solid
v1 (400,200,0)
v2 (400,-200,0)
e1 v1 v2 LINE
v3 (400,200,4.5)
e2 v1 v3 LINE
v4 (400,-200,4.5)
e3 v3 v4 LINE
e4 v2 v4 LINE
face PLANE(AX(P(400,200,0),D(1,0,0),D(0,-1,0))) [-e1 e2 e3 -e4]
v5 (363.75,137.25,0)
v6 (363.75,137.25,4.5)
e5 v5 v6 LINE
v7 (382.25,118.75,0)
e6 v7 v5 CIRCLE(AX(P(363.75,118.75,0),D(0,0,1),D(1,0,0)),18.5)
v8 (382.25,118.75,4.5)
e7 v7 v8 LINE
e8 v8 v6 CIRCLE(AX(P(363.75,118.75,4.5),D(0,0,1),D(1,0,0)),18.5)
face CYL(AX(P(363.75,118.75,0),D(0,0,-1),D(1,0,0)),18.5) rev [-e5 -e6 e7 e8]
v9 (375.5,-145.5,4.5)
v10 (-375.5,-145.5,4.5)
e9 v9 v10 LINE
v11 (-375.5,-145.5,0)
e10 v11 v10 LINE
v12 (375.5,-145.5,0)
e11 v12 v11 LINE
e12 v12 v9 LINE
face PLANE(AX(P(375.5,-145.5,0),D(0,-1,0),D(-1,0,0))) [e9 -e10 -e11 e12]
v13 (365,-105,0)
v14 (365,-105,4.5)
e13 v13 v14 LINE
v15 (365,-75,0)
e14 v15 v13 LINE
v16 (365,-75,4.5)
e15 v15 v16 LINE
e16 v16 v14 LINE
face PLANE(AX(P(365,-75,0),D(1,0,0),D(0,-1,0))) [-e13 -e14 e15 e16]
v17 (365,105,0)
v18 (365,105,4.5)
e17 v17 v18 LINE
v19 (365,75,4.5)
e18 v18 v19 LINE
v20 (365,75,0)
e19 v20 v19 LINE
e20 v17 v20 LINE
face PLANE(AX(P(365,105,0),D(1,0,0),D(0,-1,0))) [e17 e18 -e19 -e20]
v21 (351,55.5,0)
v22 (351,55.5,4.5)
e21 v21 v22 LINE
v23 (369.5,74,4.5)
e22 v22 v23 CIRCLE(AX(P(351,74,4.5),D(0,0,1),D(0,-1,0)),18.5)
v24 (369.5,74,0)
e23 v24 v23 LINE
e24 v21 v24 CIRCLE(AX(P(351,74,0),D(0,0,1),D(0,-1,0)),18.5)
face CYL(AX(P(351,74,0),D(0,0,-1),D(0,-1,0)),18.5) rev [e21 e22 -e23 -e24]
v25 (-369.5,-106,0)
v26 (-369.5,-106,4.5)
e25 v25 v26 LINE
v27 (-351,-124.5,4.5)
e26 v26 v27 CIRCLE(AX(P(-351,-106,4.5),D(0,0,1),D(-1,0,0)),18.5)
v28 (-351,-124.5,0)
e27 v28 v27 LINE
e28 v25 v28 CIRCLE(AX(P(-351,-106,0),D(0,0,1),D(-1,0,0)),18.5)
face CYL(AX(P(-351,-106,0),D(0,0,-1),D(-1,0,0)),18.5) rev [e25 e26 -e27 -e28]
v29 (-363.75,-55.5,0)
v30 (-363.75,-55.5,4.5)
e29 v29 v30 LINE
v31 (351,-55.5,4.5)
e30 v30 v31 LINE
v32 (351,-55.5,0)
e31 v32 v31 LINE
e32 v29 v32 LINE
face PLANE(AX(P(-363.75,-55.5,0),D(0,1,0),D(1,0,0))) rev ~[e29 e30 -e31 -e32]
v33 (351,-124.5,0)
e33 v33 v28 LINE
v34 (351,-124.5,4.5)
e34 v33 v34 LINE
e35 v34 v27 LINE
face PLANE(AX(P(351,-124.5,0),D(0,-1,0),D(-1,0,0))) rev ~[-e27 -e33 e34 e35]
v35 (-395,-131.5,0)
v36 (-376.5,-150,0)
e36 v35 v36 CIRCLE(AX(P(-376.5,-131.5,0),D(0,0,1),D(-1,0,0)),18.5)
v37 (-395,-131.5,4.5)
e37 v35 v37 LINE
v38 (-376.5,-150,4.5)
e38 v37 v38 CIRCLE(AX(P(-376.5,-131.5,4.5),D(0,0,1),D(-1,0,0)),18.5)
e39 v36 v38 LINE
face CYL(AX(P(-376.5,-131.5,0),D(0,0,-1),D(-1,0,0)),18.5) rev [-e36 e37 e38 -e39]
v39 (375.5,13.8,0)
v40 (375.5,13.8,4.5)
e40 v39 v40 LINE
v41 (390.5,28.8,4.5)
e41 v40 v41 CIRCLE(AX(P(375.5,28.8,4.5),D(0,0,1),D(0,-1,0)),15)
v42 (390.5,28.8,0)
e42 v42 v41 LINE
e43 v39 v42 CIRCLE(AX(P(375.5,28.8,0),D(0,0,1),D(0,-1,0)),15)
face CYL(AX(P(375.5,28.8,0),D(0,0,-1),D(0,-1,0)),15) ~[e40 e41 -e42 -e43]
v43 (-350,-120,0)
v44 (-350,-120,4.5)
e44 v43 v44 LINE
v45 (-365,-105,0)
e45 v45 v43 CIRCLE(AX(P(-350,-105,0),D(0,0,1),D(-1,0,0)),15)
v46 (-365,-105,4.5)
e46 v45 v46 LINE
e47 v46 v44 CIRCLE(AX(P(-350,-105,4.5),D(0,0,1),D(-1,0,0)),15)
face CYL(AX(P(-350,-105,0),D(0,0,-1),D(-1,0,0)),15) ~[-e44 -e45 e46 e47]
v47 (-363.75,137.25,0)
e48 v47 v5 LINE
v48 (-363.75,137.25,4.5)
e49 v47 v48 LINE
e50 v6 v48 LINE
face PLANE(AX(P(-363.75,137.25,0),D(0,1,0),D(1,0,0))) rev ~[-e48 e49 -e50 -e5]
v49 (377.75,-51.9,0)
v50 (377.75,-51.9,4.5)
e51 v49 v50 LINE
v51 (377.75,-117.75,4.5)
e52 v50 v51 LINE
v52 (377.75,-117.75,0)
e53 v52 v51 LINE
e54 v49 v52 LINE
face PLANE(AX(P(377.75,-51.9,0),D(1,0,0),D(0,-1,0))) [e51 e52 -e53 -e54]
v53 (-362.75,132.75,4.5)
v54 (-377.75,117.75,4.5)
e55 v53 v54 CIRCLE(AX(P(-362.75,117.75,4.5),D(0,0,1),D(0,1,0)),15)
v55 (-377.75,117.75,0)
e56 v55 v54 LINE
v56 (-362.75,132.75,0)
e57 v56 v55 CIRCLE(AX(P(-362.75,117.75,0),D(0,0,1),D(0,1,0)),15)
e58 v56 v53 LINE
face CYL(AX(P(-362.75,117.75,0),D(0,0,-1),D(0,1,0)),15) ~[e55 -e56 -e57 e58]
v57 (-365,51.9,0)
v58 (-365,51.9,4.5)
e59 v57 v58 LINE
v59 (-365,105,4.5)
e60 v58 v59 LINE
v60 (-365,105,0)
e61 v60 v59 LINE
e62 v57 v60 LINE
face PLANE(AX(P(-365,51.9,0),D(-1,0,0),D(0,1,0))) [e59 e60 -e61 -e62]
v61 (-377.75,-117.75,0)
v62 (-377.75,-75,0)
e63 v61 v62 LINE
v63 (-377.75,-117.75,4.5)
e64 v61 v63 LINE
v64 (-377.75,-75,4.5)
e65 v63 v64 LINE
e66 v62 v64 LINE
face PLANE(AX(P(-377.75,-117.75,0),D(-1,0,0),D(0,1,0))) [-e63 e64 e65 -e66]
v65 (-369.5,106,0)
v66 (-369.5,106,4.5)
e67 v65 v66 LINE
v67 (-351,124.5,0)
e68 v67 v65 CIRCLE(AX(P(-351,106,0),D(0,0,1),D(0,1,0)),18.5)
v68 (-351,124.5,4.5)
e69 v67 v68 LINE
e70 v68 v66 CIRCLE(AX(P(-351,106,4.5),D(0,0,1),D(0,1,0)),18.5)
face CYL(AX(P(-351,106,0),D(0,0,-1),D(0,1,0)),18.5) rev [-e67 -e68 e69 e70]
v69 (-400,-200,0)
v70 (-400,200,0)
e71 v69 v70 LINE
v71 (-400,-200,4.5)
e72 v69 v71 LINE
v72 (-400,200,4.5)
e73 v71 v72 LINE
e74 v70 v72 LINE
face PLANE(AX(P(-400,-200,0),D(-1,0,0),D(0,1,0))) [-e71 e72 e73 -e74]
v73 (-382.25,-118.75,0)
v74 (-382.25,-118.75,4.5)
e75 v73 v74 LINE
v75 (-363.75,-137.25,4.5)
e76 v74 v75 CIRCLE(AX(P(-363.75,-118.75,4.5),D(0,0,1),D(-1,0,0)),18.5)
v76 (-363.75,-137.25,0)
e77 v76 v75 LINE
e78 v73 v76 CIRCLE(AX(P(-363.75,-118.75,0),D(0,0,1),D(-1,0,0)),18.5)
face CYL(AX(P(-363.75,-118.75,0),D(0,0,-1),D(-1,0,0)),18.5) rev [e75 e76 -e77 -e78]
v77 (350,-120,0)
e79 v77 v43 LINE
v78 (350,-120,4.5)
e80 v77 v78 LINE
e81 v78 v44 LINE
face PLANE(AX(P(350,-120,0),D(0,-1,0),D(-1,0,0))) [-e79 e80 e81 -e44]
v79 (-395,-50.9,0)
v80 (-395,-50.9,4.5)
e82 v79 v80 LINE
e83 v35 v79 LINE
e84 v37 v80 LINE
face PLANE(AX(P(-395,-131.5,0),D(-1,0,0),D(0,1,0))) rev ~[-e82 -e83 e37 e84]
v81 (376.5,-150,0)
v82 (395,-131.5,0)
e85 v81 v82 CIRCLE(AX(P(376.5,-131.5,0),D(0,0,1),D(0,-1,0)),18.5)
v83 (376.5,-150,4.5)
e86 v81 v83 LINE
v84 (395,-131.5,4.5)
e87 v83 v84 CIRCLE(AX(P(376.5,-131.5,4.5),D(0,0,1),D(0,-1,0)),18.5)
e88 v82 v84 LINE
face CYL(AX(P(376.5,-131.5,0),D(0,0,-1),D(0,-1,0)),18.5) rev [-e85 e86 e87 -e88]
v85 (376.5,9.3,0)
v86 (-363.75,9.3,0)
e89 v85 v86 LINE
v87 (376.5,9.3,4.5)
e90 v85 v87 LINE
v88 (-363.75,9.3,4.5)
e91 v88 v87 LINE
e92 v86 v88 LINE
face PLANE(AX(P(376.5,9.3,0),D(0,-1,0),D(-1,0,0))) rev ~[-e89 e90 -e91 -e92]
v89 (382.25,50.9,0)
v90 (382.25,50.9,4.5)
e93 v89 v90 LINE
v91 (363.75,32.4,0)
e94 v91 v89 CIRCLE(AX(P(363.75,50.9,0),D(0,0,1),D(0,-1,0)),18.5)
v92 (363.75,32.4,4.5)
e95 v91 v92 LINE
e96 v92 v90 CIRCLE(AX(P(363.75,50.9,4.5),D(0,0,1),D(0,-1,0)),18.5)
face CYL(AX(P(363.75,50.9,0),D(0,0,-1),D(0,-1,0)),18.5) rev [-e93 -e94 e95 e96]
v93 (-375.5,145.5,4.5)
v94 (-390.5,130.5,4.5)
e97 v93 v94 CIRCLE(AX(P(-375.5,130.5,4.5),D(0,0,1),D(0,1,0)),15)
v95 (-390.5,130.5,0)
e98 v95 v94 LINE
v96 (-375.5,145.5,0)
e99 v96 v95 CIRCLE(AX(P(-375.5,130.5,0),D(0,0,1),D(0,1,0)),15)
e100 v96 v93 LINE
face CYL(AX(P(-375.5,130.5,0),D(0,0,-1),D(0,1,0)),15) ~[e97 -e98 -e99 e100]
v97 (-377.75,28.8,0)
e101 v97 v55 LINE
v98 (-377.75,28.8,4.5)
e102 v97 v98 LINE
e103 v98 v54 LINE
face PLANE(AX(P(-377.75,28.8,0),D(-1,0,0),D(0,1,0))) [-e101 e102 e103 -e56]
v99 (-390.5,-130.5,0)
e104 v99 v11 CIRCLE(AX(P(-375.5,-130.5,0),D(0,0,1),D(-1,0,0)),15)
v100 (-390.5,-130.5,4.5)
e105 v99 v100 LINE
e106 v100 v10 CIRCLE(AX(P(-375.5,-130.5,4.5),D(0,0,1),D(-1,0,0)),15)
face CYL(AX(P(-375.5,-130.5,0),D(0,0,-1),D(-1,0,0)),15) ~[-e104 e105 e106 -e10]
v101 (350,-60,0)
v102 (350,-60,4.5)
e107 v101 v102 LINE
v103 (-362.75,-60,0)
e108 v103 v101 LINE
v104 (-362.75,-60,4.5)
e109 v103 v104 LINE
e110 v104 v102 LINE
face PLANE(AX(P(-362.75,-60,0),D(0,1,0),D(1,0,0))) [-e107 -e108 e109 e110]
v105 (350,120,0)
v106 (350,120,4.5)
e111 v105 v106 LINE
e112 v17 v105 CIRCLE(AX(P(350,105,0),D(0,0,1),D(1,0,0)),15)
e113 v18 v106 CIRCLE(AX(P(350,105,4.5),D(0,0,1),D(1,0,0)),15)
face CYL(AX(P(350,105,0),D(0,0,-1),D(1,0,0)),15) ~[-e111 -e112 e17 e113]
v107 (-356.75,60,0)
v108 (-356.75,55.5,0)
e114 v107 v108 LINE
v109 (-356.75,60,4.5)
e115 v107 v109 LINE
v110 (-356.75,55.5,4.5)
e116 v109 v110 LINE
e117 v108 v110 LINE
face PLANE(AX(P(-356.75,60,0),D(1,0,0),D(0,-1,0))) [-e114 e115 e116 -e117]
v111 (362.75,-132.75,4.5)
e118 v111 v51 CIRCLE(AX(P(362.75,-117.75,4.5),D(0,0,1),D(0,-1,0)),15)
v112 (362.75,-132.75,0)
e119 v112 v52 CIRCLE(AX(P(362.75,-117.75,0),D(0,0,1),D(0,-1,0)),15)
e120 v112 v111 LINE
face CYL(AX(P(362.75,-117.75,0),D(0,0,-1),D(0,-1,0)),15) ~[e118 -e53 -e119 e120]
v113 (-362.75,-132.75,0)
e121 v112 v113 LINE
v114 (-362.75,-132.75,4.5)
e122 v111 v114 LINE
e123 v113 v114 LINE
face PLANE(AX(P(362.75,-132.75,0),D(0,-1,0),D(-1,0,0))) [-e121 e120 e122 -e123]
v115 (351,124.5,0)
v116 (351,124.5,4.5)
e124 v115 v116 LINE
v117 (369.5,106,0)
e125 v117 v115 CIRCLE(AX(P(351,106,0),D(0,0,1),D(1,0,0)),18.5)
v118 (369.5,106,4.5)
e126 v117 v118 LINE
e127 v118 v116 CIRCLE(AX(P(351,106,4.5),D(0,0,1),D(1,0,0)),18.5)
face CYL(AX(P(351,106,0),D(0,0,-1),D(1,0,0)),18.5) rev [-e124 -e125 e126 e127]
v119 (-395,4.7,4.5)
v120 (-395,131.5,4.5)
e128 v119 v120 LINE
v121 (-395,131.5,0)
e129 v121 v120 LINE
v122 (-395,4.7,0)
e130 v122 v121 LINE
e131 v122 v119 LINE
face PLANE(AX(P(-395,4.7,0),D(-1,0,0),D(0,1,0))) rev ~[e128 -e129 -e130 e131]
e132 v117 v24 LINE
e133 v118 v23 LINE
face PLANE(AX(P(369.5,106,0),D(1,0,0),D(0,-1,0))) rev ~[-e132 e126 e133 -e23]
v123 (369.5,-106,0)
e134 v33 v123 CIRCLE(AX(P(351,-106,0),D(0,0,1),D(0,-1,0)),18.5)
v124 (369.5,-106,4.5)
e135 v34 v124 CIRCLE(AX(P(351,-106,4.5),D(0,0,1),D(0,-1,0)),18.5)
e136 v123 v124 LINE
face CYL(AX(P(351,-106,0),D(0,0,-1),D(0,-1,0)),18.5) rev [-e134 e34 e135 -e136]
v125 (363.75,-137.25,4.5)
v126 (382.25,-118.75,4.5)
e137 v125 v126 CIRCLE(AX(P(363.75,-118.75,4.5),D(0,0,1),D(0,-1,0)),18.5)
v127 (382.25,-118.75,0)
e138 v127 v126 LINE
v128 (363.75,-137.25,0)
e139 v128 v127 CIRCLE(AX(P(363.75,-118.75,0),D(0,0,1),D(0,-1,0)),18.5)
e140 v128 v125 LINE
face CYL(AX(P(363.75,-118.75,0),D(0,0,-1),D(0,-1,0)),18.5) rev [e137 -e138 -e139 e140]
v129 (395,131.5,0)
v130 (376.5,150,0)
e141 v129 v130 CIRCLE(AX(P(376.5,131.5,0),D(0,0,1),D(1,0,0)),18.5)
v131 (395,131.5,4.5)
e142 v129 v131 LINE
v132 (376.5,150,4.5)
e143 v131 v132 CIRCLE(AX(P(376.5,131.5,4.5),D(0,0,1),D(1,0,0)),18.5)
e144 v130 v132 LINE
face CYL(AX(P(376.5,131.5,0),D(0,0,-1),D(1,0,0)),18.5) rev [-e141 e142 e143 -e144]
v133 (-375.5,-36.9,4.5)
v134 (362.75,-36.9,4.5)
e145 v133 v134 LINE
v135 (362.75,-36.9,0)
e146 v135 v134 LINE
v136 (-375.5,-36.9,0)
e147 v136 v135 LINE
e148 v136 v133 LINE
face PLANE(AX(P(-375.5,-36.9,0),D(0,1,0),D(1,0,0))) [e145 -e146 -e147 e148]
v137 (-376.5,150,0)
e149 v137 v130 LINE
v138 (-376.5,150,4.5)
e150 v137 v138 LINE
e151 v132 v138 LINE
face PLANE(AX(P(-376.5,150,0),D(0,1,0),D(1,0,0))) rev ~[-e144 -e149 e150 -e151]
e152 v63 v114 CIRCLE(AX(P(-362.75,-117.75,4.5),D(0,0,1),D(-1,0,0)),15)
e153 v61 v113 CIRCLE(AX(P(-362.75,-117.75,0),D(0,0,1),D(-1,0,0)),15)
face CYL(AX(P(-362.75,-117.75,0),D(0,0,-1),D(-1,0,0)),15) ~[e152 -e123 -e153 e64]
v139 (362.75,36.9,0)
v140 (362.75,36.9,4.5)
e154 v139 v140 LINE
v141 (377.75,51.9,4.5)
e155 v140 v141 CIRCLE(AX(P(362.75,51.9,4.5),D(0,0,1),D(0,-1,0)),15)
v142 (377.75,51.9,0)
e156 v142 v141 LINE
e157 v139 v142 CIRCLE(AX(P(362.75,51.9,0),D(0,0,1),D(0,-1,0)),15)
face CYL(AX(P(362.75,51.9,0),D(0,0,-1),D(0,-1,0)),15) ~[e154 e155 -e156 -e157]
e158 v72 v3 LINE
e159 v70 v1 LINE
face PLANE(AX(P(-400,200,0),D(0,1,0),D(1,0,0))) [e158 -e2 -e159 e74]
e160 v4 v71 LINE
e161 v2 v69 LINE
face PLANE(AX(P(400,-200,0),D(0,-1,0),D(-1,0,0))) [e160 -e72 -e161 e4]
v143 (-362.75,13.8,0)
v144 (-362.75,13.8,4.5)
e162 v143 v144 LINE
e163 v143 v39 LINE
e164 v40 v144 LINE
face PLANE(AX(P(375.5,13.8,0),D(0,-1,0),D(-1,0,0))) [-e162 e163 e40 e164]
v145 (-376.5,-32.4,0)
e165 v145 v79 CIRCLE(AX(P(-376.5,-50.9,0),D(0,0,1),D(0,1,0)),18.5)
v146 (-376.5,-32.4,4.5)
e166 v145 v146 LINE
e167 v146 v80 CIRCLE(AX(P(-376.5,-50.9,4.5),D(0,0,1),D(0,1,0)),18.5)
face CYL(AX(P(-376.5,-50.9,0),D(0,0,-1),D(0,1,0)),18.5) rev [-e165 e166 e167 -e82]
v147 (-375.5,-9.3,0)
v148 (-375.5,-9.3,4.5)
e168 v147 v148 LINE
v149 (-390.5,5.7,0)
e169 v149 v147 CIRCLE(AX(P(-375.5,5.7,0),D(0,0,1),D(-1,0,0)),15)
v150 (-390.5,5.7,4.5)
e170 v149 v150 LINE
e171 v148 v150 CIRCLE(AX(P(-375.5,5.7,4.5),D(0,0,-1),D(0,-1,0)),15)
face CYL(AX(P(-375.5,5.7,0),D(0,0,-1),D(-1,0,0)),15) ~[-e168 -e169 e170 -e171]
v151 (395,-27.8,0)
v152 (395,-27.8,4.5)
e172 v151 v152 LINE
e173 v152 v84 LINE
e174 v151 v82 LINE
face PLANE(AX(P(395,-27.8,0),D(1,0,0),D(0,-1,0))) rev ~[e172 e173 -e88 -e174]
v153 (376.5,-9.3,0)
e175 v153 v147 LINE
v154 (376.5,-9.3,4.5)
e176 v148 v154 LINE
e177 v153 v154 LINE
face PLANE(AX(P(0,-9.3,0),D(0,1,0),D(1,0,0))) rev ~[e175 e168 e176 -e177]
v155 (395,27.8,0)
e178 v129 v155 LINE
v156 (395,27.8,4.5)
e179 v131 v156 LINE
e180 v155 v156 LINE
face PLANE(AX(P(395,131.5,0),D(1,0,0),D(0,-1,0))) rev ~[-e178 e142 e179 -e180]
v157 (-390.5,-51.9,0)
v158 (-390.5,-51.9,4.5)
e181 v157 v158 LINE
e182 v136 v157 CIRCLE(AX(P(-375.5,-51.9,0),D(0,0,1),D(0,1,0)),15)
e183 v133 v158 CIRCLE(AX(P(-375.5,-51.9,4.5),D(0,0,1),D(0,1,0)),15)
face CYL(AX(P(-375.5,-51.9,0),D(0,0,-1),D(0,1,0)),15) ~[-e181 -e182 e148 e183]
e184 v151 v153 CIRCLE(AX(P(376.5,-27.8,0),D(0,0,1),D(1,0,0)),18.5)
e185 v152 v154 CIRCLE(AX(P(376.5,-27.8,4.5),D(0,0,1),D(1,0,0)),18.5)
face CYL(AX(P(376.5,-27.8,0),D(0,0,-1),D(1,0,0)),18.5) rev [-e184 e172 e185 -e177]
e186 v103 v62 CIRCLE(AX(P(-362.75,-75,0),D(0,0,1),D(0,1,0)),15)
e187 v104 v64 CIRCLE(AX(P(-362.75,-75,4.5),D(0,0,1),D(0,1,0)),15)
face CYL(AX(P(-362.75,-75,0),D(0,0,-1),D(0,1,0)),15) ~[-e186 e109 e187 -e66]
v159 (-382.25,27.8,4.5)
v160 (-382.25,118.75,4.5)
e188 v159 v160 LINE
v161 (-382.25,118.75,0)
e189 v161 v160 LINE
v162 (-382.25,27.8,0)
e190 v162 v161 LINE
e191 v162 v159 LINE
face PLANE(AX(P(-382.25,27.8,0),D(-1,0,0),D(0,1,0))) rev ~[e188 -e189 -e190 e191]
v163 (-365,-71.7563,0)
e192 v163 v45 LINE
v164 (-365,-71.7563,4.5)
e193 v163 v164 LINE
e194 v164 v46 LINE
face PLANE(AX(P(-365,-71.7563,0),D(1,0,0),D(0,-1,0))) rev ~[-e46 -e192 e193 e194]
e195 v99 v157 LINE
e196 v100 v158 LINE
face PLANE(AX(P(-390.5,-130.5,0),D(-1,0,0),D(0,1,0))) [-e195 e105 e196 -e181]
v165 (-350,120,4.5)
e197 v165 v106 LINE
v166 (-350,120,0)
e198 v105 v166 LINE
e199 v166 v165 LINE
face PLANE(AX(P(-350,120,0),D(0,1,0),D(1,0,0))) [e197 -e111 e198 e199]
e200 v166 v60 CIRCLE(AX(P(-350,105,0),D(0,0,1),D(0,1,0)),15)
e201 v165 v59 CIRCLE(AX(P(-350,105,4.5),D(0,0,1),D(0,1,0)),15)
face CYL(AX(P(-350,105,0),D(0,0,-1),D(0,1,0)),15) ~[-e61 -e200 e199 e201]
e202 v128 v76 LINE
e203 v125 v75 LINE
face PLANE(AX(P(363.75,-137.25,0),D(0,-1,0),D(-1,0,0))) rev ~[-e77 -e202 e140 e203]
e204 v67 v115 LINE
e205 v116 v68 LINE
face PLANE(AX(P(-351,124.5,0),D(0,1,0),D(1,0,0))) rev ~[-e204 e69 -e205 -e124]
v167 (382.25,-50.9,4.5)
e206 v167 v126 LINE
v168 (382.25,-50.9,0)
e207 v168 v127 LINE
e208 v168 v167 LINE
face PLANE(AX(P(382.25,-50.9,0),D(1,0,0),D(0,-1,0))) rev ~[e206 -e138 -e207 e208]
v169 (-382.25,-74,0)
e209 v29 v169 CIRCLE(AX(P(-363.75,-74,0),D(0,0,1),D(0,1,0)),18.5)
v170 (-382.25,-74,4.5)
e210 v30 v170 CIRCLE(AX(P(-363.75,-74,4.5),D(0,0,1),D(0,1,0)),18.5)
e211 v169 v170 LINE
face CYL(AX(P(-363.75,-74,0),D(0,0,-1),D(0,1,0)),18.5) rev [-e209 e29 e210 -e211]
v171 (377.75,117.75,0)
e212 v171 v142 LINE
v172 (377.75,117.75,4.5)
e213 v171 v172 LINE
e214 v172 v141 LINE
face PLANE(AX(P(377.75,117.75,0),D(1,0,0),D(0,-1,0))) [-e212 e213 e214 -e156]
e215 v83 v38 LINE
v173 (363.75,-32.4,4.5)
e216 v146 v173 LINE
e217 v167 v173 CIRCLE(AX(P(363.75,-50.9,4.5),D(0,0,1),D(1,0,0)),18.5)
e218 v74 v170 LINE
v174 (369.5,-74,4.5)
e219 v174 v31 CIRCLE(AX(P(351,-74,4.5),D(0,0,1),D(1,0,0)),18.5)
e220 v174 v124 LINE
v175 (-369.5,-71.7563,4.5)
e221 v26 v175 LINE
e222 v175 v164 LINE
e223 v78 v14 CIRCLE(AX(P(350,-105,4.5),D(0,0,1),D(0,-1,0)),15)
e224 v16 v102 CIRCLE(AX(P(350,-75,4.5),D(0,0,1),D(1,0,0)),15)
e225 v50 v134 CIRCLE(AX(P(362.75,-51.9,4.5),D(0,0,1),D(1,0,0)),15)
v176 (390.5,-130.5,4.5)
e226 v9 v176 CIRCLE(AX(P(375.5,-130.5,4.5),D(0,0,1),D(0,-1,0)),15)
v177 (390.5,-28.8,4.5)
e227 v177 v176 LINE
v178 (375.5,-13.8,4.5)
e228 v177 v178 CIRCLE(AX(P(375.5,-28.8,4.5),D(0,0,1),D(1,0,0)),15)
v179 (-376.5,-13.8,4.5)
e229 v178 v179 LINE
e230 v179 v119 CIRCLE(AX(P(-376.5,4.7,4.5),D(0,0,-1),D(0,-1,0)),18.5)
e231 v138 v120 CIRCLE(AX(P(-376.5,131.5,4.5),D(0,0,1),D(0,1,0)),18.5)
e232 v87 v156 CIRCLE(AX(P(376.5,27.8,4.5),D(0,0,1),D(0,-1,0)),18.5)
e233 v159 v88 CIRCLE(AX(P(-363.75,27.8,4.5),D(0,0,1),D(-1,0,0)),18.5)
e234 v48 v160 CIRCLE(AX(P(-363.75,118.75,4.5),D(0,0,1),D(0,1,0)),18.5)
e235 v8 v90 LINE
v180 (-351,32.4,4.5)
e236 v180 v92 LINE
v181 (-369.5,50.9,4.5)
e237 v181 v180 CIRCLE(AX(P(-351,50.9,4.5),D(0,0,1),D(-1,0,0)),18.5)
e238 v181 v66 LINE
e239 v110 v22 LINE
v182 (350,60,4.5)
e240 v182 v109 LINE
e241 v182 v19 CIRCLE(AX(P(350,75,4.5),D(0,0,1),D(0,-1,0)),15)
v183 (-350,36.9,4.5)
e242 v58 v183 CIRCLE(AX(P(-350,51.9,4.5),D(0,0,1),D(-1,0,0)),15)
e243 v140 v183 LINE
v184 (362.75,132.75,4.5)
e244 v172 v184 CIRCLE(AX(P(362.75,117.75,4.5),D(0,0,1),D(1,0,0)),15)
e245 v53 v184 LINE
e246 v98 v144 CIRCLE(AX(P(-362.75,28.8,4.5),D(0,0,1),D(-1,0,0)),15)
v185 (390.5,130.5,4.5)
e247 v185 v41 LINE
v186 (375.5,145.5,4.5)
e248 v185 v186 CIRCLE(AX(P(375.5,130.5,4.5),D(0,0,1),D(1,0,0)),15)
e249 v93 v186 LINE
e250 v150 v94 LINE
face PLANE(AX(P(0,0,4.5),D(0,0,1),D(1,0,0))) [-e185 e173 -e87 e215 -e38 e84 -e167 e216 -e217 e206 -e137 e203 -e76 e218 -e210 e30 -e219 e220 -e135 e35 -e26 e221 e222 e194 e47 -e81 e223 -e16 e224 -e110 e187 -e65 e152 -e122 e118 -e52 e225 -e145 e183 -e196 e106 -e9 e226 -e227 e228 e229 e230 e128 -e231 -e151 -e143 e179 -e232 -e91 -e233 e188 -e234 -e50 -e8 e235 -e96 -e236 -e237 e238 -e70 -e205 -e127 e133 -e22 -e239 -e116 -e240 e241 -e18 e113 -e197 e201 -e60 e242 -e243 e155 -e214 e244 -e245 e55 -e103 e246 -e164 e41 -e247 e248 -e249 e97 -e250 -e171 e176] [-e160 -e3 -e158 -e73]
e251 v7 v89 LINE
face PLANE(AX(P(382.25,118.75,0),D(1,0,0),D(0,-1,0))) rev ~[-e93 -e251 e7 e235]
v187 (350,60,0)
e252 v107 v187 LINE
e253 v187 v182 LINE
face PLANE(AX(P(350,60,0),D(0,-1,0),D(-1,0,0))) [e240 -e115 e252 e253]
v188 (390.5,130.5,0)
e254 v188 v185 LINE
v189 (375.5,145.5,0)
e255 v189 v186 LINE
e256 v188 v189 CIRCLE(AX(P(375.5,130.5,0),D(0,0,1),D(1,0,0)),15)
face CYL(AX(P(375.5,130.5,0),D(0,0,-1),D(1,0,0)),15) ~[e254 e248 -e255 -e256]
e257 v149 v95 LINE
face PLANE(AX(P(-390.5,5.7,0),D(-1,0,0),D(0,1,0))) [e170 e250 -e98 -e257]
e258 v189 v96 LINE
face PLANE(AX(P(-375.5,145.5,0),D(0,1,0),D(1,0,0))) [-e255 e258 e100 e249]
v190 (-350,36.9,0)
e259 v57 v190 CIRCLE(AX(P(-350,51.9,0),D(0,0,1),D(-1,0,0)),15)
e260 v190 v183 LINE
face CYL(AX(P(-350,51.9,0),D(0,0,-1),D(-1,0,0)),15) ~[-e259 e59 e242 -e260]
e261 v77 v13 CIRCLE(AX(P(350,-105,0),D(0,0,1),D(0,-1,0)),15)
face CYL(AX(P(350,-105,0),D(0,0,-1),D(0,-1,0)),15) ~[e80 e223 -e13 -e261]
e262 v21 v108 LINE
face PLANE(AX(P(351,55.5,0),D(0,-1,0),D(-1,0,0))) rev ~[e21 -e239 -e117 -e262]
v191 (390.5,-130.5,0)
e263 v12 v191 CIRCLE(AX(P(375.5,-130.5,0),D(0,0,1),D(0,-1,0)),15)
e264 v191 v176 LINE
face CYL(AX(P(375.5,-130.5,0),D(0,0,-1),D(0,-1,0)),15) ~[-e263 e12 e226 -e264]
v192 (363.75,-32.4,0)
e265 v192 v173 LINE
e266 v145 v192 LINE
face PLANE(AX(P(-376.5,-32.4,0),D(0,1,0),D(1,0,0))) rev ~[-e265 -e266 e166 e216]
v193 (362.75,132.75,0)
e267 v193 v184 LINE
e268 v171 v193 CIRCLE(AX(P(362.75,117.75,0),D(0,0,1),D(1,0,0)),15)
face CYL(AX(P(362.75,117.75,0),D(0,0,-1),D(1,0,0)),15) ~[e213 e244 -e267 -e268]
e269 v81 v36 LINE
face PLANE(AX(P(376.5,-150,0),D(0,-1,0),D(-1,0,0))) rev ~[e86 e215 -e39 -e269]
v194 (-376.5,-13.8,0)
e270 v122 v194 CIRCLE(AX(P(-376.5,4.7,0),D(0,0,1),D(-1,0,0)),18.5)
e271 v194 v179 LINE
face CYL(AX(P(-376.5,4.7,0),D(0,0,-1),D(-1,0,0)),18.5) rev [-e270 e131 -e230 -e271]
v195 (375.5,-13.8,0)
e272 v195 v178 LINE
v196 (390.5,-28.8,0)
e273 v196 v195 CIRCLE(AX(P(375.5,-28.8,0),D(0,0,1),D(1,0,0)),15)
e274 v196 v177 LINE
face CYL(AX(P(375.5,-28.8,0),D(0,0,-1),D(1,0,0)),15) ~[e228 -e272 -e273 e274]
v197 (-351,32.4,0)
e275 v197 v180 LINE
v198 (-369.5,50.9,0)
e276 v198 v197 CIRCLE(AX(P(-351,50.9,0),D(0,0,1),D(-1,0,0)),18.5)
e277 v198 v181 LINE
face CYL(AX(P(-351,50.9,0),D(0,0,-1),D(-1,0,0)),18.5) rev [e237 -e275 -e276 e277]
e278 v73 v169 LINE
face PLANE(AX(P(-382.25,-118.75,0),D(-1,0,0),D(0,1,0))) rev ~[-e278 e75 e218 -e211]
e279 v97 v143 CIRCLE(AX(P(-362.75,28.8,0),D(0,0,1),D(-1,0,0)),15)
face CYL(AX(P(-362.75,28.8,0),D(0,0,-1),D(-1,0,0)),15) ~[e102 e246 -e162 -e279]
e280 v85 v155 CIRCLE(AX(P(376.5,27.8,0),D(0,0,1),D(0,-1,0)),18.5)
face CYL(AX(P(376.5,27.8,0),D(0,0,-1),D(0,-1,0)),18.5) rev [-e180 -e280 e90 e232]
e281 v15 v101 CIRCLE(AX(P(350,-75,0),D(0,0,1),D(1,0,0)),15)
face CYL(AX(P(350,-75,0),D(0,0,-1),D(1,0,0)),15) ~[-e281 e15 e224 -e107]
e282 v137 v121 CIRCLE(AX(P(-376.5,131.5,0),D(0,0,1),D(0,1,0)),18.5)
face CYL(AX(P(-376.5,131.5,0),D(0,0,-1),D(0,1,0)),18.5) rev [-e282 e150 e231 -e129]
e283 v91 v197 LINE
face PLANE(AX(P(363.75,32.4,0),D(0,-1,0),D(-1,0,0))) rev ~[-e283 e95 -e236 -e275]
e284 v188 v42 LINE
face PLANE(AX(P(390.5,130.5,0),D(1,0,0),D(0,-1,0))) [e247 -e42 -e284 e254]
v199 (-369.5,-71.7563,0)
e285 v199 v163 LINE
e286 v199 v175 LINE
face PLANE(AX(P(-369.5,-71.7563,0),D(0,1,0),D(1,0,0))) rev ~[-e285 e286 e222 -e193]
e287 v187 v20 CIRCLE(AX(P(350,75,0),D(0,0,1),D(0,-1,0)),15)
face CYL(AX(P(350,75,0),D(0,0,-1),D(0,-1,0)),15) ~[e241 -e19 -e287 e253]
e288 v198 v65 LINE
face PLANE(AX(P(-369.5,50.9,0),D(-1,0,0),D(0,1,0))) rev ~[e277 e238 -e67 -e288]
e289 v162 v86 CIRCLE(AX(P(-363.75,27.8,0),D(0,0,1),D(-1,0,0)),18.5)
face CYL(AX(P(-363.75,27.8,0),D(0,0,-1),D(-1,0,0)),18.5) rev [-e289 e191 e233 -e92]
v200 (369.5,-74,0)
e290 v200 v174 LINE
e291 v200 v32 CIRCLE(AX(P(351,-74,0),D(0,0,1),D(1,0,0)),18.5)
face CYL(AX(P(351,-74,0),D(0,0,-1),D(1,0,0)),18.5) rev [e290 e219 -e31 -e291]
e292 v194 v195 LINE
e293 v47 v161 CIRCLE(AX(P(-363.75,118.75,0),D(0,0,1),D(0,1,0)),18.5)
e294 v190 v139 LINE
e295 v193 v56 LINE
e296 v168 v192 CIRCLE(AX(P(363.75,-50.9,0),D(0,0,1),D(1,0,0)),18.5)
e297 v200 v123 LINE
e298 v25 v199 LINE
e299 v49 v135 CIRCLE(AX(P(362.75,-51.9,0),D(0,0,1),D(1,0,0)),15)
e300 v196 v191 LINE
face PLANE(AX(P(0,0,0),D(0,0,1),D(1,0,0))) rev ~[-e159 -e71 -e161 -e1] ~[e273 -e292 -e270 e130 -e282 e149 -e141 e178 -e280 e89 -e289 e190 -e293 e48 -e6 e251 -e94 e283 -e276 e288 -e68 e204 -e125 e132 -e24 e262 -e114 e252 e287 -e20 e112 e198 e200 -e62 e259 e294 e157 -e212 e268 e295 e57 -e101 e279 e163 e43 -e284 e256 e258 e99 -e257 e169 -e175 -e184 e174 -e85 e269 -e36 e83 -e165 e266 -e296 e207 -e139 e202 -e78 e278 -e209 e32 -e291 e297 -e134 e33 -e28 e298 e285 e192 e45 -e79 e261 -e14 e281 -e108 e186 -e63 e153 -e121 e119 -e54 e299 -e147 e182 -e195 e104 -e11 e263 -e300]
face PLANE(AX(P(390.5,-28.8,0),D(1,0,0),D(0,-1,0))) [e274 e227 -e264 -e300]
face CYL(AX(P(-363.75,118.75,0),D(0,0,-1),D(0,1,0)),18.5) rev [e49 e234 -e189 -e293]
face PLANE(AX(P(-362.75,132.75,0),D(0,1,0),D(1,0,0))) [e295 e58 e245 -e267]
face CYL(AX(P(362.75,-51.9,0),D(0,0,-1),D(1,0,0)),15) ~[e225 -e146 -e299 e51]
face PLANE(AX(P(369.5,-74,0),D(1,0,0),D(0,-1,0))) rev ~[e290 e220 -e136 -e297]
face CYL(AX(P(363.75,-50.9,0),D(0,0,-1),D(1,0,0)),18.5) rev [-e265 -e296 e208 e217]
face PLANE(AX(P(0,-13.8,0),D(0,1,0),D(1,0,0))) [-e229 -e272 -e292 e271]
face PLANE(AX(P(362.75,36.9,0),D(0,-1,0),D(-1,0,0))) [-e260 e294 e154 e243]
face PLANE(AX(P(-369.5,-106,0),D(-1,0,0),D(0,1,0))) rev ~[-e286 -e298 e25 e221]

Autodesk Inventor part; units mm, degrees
ref_plane "YZ Plane" through (0, 0, 0) normal (1, 0, 0) x (0, 1, 0)
ref_plane "XZ Plane" through (0, 0, 0) normal (0, 1, 0) x (-1, 0, 0)
sketch "layer_layout_sketch" plane through (0, 0, 0) normal (0, 0, 1) x (1, 0, 0)
  line L0 (-400, 200) -> (400, 200)
  line L1 (400, 200) -> (400, -200)
  line L2 (400, -200) -> (-400, -200)
  line L3 (-400, -200) -> (-400, 200)
  line L4 (0, 200) -> (0, -200) construction
  point P0 (0, 0)
  point P1 (0, 0)
  dimension "d116" = 400
  dimension "d117" = 800
sketch "coil_layer_sketch_lower" plane through (0, 0, 0) normal (0, 0, 1) x (1, 0, 0)
  line L0 (0, -9.3) -> (376.5, -9.3)
  line L1 (395, -27.8) -> (395, -131.5)
  line L2 (376.5, -150) -> (-376.5, -150)
  line L3 (-395, -131.5) -> (-395, -50.9)
  line L4 (0, -9.3) -> (0, -13.8)
  line L5 (0, -13.8) -> (375.5, -13.8)
  line L6 (390.5, -28.8) -> (390.5, -130.5)
  line L7 (375.5, -145.5) -> (-375.5, -145.5)
  line L8 (-376.5, -32.4) -> (363.75, -32.4)
  line L9 (382.25, -50.9) -> (382.25, -118.75)
  line L10 (363.75, -137.25) -> (-363.75, -137.25)
  line L11 (-390.5, -130.5) -> (-390.5, -51.9)
  line L12 (-375.5, -36.9) -> (362.75, -36.9)
  line L13 (377.75, -51.9) -> (377.75, -117.75)
  line L14 (362.75, -132.75) -> (-362.75, -132.75)
  line L15 (-377.75, -117.75) -> (-377.75, -75)
  line L16 (-382.25, -118.75) -> (-382.25, -74)
  line L17 (-363.75, -55.5) -> (351, -55.5)
  line L18 (369.5, -74) -> (369.5, -106)
  line L19 (-362.75, -60) -> (350, -60)
  line L20 (365, -75) -> (365, -105)
  line L21 (-558.3641, 0) -> (558.3641, 0) projected
  line L22 (350, -120) -> (-350, -120)
  line L23 (351, -124.5) -> (-351, -124.5)
  line L24 (-369.5, -106) -> (-369.5, -71.7563)
  line L25 (-369.5, -71.7563) -> (-365, -71.7563)
  line L26 (-365, -71.7563) -> (-365, -105)
  arc A0 (395, -27.8) -> (376.5, -9.3) centre (376.5, -27.8) ccw
  arc A1 (382.25, -50.9) -> (363.75, -32.4) centre (363.75, -50.9) ccw
  arc A2 (369.5, -74) -> (351, -55.5) centre (351, -74) ccw
  arc A3 (351, -124.5) -> (369.5, -106) centre (351, -106) ccw
  arc A4 (363.75, -137.25) -> (382.25, -118.75) centre (363.75, -118.75) ccw
  arc A5 (376.5, -150) -> (395, -131.5) centre (376.5, -131.5) ccw
  arc A6 (-395, -131.5) -> (-376.5, -150) centre (-376.5, -131.5) ccw
  arc A7 (-382.25, -118.75) -> (-363.75, -137.25) centre (-363.75, -118.75) ccw
  arc A8 (-369.5, -106) -> (-351, -124.5) centre (-351, -106) ccw
  arc A9 (-376.5, -32.4) -> (-395, -50.9) centre (-376.5, -50.9) ccw
  arc A10 (-363.75, -55.5) -> (-382.25, -74) centre (-363.75, -74) ccw
  arc A11 (-375.5, -36.9) -> (-390.5, -51.9) centre (-375.5, -51.9) ccw
  arc A12 (-362.75, -60) -> (-377.75, -75) centre (-362.75, -75) ccw
  arc A13 (-390.5, -130.5) -> (-375.5, -145.5) centre (-375.5, -130.5) ccw
  arc A14 (-377.75, -117.75) -> (-362.75, -132.75) centre (-362.75, -117.75) ccw
  arc A15 (-365, -105) -> (-350, -120) centre (-350, -105) ccw
  arc A16 (350, -120) -> (365, -105) centre (350, -105) ccw
  arc A17 (362.75, -132.75) -> (377.75, -117.75) centre (362.75, -117.75) ccw
  arc A18 (375.5, -145.5) -> (390.5, -130.5) centre (375.5, -130.5) ccw
  arc A19 (377.75, -51.9) -> (362.75, -36.9) centre (362.75, -51.9) ccw
  arc A20 (390.5, -28.8) -> (375.5, -13.8) centre (375.5, -28.8) ccw
  arc A21 (365, -75) -> (350, -60) centre (350, -75) ccw
  point P0 (0, 0)
  point P1 (0, 0)
  point P2 (368.0934, -60)
  point P3 (370, -61.9066)
  point P4 (0, -150)
  dimension "d1" = 4.5
  dimension "d2" = 4.5
  dimension "d3" = 4.5
  dimension "d4" = 9.3
  dimension "d5" = 790
  dimension "d6" = 395
  dimension "d7" = 4.5
  dimension "d8" = 4.5
  dimension "d9" = 8.25
  dimension "d10" = 4.5
  dimension "d11" = 18.6
  dimension "d12" = 4.5
  dimension "d13" = 8.25
  dimension "d14" = 4.5
  dimension "d15" = 4.5
  dimension "d16" = 4.5
  dimension "d17" = 8.25
  dimension "d19" = 18.6
  dimension "d20" = 8.25
  dimension "d82" = 150
  dimension "d88" = 4.5
  dimension "d89" = 8.25
  dimension "d96" = 4.5
  dimension "d97" = 8.25
  dimension "d98" = 18.5
  dimension "d99" = 15
  dimension "d109" = 15
sketch "coil_layer_sketch_upper" plane through (0, 0, 0) normal (0, 0, 1) x (1, 0, 0)
  line L0 (0, -13.8) -> (-376.5, -13.8)
  line L1 (-395, 4.7) -> (-395, 131.5)
  line L2 (-376.5, 150) -> (376.5, 150)
  line L3 (395, 131.5) -> (395, 27.8)
  line L4 (0, -9.3) -> (-375.5, -9.3)
  line L5 (-390.5, 5.7) -> (-390.5, 130.5)
  line L6 (-375.5, 145.5) -> (375.5, 145.5)
  line L7 (390.5, 130.5) -> (390.5, 28.8)
  line L8 (375.5, 13.8) -> (-362.75, 13.8)
  line L9 (-377.75, 28.8) -> (-377.75, 117.75)
  line L10 (376.5, 9.3) -> (-363.75, 9.3)
  line L11 (-382.25, 27.8) -> (-382.25, 118.75)
  line L12 (-362.75, 132.75) -> (362.75, 132.75)
  line L13 (-363.75, 137.25) -> (363.75, 137.25)
  line L14 (377.75, 117.75) -> (377.75, 51.9)
  line L15 (362.75, 36.9) -> (-350, 36.9)
  line L16 (382.25, 118.75) -> (382.25, 50.9)
  line L17 (363.75, 32.4) -> (-351, 32.4)
  line L18 (-365, 51.9) -> (-365, 105)
  line L19 (-350, 120) -> (350, 120)
  line L20 (365, 105) -> (365, 75)
  line L21 (350, 60) -> (-356.75, 60)
  line L22 (-369.5, 50.9) -> (-369.5, 106)
  line L23 (-351, 124.5) -> (351, 124.5)
  line L24 (369.5, 106) -> (369.5, 74)
  line L25 (351, 55.5) -> (-356.75, 55.5)
  line L26 (-356.75, 60) -> (-356.75, 55.5)
  line L27 (-700, 0) -> (700, 0)
  line L28 (-980, 0) -> (980, 0) projected
  line L29 (0, -13.8) -> (0, -9.3)
  line L30 (0, -51.9241) -> (0, 188.1241) projected
  arc A0 (365, 105) -> (350, 120) centre (350, 105) ccw
  arc A1 (350, 60) -> (365, 75) centre (350, 75) ccw
  arc A2 (377.75, 117.75) -> (362.75, 132.75) centre (362.75, 117.75) ccw
  arc A3 (362.75, 36.9) -> (377.75, 51.9) centre (362.75, 51.9) ccw
  arc A4 (390.5, 130.5) -> (375.5, 145.5) centre (375.5, 130.5) ccw
  arc A5 (375.5, 13.8) -> (390.5, 28.8) centre (375.5, 28.8) ccw
  arc A6 (-350, 120) -> (-365, 105) centre (-350, 105) ccw
  arc A7 (-365, 51.9) -> (-350, 36.9) centre (-350, 51.9) ccw
  arc A8 (-377.75, 28.8) -> (-362.75, 13.8) centre (-362.75, 28.8) ccw
  arc A9 (-390.5, 5.7) -> (-375.5, -9.3) centre (-375.5, 5.7) ccw
  arc A10 (-362.75, 132.75) -> (-377.75, 117.75) centre (-362.75, 117.75) ccw
  arc A11 (-375.5, 145.5) -> (-390.5, 130.5) centre (-375.5, 130.5) ccw
  arc A12 (-376.5, 150) -> (-395, 131.5) centre (-376.5, 131.5) ccw
  arc A13 (-363.75, 137.25) -> (-382.25, 118.75) centre (-363.75, 118.75) ccw
  arc A14 (-351, 124.5) -> (-369.5, 106) centre (-351, 106) ccw
  arc A15 (-369.5, 50.9) -> (-351, 32.4) centre (-351, 50.9) ccw
  arc A16 (-382.25, 27.8) -> (-363.75, 9.3) centre (-363.75, 27.8) ccw
  arc A17 (-395, 4.7) -> (-376.5, -13.8) centre (-376.5, 4.7) ccw
  arc A18 (351, 55.5) -> (369.5, 74) centre (351, 74) ccw
  arc A19 (363.75, 32.4) -> (382.25, 50.9) centre (363.75, 50.9) ccw
  arc A20 (376.5, 9.3) -> (395, 27.8) centre (376.5, 27.8) ccw
  arc A21 (395, 131.5) -> (376.5, 150) centre (376.5, 131.5) ccw
  arc A22 (382.25, 118.75) -> (363.75, 137.25) centre (363.75, 118.75) ccw
  arc A23 (369.5, 106) -> (351, 124.5) centre (351, 106) ccw
  point P0 (0, 0)
  point P1 (395, 9.3)
  point P2 (-382.25, 9.3)
  point P3 (0, 150)
  point P4 (-700, 0)
  point P5 (700, 0)
  point P6 (0, 150)
  dimension "d58" = 4.5
  dimension "d59" = 4.5
  dimension "d60" = 4.5
  dimension "d61" = 8.25
  dimension "d62" = 8.25
  dimension "d64" = 4.5
  dimension "d65" = 4.5
  dimension "d66" = 4.5
  dimension "d67" = 8.25
  dimension "d69" = 18.6
  dimension "d70" = 4.5
  dimension "d71" = 4.5
  dimension "d72" = 18.6
  dimension "d73" = 8.25
  dimension "d74" = 8.25
  dimension "d75" = 4.5
  dimension "d77" = 18.6
  dimension "d78" = 4.5
  dimension "d79" = 4.5
  dimension "d80" = 4.5
  dimension "d83" = 150
  dimension "d87" = 8.25
  dimension "d91" = 4.5
  dimension "d92" = 9.3
  dimension "d93" = 790
  dimension "d100" = 15
  dimension "d101" = 18.5
  dimension "d102" = 8.25
extrude "layer_sheet Extrude" add sketch "layer_layout_sketch" along normal blind 4.5
extrude "wire_holes_upper Cut" cut sketch "coil_layer_sketch_upper" along normal blind 4.5 contours L0 A17 L27 A9 L4 L29 | A17 L1 A12 L2 L30 L6 A11 L5 A9 L27 | L30 L8 A5 L7 A4 L6 L2 A21 L3 A20 L10 | L10 A16 L11 A13 L13 L30 L12 A10 L9 A8 L8 | L30 L15 A3 L14 A2 L12 L13 A22 L16 A19 L17 | L17 A15 L22 A14 L23 L30 L19 A6 L18 A7 L15 | L30 L21 A1 L20 A0 L19 L23 A23 L24 A18 L25 | L25 L26 L21 L30
extrude "wire_holes_lower Cut" cut sketch "coil_layer_sketch_lower" along normal blind 4.5
equation "\"d1\" = wire_diameter"
equation "\"d2\" = wire_diameter"
equation "\"d3\" = wire_diameter"
equation "\"d4\" = 0.5 * distance_between_wires"
equation "\"d6\" = 0.5 * track_length"
equation "\"d7\" = wire_diameter"
equation "\"d8\" = wire_diameter"
equation "\"d9\" = distance_between_wires_edge"
equation "\"d10\" = wire_diameter"
equation "\"d11\" = distance_between_wires"
equation "\"d12\" = wire_diameter"
equation "\"d13\" = distance_between_wires_edge"
equation "\"d14\" = wire_diameter"
equation "\"d15\" = wire_diameter"
equation "\"d16\" = wire_diameter"
equation "\"d17\" = distance_between_wires_edge"
equation "\"d19\" = distance_between_wires"
equation "\"d20\" = distance_between_wires_edge"
equation "\"d82\" = 0.5 * track_width"
equation "\"d58\" = wire_diameter"
equation "\"d59\" = wire_diameter"
equation "\"d60\" = wire_diameter"
equation "\"d61\" = distance_between_wires_edge"
equation "\"d62\" = distance_between_wires_edge"
equation "\"d64\" = wire_diameter"
equation "\"d65\" = wire_diameter"
equation "\"d66\" = wire_diameter"
equation "\"d67\" = distance_between_wires_edge"
equation "\"d69\" = distance_between_wires"
equation "\"d70\" = wire_diameter"
equation "\"d71\" = wire_diameter"
equation "\"d72\" = distance_between_wires"
equation "\"d73\" = distance_between_wires_edge"
equation "\"d74\" = distance_between_wires_edge"
equation "\"d75\" = wire_diameter"
equation "\"d77\" = distance_between_wires"
equation "\"d78\" = wire_diameter"
equation "\"d79\" = wire_diameter"
equation "\"d80\" = wire_diameter"
equation "\"d83\" = 0.5 * track_width"
equation "\"wire_diameter\" = 4.5"
equation "\"distance_between_wires\" = -1.2 * wire_diameter + 0.2 * parameter_6"
equation "\"distance_between_wires_edge\" = 8.25"
equation "\"bend_radius_inner\" = 15"
equation "\"bend_radius_outer\" = 18.5"
equation "\"track_width\" = 300"
equation "\"parameter_6\" = 120"
equation "\"track_length\" = 790"
properties part number "primary_coil_0R2"
